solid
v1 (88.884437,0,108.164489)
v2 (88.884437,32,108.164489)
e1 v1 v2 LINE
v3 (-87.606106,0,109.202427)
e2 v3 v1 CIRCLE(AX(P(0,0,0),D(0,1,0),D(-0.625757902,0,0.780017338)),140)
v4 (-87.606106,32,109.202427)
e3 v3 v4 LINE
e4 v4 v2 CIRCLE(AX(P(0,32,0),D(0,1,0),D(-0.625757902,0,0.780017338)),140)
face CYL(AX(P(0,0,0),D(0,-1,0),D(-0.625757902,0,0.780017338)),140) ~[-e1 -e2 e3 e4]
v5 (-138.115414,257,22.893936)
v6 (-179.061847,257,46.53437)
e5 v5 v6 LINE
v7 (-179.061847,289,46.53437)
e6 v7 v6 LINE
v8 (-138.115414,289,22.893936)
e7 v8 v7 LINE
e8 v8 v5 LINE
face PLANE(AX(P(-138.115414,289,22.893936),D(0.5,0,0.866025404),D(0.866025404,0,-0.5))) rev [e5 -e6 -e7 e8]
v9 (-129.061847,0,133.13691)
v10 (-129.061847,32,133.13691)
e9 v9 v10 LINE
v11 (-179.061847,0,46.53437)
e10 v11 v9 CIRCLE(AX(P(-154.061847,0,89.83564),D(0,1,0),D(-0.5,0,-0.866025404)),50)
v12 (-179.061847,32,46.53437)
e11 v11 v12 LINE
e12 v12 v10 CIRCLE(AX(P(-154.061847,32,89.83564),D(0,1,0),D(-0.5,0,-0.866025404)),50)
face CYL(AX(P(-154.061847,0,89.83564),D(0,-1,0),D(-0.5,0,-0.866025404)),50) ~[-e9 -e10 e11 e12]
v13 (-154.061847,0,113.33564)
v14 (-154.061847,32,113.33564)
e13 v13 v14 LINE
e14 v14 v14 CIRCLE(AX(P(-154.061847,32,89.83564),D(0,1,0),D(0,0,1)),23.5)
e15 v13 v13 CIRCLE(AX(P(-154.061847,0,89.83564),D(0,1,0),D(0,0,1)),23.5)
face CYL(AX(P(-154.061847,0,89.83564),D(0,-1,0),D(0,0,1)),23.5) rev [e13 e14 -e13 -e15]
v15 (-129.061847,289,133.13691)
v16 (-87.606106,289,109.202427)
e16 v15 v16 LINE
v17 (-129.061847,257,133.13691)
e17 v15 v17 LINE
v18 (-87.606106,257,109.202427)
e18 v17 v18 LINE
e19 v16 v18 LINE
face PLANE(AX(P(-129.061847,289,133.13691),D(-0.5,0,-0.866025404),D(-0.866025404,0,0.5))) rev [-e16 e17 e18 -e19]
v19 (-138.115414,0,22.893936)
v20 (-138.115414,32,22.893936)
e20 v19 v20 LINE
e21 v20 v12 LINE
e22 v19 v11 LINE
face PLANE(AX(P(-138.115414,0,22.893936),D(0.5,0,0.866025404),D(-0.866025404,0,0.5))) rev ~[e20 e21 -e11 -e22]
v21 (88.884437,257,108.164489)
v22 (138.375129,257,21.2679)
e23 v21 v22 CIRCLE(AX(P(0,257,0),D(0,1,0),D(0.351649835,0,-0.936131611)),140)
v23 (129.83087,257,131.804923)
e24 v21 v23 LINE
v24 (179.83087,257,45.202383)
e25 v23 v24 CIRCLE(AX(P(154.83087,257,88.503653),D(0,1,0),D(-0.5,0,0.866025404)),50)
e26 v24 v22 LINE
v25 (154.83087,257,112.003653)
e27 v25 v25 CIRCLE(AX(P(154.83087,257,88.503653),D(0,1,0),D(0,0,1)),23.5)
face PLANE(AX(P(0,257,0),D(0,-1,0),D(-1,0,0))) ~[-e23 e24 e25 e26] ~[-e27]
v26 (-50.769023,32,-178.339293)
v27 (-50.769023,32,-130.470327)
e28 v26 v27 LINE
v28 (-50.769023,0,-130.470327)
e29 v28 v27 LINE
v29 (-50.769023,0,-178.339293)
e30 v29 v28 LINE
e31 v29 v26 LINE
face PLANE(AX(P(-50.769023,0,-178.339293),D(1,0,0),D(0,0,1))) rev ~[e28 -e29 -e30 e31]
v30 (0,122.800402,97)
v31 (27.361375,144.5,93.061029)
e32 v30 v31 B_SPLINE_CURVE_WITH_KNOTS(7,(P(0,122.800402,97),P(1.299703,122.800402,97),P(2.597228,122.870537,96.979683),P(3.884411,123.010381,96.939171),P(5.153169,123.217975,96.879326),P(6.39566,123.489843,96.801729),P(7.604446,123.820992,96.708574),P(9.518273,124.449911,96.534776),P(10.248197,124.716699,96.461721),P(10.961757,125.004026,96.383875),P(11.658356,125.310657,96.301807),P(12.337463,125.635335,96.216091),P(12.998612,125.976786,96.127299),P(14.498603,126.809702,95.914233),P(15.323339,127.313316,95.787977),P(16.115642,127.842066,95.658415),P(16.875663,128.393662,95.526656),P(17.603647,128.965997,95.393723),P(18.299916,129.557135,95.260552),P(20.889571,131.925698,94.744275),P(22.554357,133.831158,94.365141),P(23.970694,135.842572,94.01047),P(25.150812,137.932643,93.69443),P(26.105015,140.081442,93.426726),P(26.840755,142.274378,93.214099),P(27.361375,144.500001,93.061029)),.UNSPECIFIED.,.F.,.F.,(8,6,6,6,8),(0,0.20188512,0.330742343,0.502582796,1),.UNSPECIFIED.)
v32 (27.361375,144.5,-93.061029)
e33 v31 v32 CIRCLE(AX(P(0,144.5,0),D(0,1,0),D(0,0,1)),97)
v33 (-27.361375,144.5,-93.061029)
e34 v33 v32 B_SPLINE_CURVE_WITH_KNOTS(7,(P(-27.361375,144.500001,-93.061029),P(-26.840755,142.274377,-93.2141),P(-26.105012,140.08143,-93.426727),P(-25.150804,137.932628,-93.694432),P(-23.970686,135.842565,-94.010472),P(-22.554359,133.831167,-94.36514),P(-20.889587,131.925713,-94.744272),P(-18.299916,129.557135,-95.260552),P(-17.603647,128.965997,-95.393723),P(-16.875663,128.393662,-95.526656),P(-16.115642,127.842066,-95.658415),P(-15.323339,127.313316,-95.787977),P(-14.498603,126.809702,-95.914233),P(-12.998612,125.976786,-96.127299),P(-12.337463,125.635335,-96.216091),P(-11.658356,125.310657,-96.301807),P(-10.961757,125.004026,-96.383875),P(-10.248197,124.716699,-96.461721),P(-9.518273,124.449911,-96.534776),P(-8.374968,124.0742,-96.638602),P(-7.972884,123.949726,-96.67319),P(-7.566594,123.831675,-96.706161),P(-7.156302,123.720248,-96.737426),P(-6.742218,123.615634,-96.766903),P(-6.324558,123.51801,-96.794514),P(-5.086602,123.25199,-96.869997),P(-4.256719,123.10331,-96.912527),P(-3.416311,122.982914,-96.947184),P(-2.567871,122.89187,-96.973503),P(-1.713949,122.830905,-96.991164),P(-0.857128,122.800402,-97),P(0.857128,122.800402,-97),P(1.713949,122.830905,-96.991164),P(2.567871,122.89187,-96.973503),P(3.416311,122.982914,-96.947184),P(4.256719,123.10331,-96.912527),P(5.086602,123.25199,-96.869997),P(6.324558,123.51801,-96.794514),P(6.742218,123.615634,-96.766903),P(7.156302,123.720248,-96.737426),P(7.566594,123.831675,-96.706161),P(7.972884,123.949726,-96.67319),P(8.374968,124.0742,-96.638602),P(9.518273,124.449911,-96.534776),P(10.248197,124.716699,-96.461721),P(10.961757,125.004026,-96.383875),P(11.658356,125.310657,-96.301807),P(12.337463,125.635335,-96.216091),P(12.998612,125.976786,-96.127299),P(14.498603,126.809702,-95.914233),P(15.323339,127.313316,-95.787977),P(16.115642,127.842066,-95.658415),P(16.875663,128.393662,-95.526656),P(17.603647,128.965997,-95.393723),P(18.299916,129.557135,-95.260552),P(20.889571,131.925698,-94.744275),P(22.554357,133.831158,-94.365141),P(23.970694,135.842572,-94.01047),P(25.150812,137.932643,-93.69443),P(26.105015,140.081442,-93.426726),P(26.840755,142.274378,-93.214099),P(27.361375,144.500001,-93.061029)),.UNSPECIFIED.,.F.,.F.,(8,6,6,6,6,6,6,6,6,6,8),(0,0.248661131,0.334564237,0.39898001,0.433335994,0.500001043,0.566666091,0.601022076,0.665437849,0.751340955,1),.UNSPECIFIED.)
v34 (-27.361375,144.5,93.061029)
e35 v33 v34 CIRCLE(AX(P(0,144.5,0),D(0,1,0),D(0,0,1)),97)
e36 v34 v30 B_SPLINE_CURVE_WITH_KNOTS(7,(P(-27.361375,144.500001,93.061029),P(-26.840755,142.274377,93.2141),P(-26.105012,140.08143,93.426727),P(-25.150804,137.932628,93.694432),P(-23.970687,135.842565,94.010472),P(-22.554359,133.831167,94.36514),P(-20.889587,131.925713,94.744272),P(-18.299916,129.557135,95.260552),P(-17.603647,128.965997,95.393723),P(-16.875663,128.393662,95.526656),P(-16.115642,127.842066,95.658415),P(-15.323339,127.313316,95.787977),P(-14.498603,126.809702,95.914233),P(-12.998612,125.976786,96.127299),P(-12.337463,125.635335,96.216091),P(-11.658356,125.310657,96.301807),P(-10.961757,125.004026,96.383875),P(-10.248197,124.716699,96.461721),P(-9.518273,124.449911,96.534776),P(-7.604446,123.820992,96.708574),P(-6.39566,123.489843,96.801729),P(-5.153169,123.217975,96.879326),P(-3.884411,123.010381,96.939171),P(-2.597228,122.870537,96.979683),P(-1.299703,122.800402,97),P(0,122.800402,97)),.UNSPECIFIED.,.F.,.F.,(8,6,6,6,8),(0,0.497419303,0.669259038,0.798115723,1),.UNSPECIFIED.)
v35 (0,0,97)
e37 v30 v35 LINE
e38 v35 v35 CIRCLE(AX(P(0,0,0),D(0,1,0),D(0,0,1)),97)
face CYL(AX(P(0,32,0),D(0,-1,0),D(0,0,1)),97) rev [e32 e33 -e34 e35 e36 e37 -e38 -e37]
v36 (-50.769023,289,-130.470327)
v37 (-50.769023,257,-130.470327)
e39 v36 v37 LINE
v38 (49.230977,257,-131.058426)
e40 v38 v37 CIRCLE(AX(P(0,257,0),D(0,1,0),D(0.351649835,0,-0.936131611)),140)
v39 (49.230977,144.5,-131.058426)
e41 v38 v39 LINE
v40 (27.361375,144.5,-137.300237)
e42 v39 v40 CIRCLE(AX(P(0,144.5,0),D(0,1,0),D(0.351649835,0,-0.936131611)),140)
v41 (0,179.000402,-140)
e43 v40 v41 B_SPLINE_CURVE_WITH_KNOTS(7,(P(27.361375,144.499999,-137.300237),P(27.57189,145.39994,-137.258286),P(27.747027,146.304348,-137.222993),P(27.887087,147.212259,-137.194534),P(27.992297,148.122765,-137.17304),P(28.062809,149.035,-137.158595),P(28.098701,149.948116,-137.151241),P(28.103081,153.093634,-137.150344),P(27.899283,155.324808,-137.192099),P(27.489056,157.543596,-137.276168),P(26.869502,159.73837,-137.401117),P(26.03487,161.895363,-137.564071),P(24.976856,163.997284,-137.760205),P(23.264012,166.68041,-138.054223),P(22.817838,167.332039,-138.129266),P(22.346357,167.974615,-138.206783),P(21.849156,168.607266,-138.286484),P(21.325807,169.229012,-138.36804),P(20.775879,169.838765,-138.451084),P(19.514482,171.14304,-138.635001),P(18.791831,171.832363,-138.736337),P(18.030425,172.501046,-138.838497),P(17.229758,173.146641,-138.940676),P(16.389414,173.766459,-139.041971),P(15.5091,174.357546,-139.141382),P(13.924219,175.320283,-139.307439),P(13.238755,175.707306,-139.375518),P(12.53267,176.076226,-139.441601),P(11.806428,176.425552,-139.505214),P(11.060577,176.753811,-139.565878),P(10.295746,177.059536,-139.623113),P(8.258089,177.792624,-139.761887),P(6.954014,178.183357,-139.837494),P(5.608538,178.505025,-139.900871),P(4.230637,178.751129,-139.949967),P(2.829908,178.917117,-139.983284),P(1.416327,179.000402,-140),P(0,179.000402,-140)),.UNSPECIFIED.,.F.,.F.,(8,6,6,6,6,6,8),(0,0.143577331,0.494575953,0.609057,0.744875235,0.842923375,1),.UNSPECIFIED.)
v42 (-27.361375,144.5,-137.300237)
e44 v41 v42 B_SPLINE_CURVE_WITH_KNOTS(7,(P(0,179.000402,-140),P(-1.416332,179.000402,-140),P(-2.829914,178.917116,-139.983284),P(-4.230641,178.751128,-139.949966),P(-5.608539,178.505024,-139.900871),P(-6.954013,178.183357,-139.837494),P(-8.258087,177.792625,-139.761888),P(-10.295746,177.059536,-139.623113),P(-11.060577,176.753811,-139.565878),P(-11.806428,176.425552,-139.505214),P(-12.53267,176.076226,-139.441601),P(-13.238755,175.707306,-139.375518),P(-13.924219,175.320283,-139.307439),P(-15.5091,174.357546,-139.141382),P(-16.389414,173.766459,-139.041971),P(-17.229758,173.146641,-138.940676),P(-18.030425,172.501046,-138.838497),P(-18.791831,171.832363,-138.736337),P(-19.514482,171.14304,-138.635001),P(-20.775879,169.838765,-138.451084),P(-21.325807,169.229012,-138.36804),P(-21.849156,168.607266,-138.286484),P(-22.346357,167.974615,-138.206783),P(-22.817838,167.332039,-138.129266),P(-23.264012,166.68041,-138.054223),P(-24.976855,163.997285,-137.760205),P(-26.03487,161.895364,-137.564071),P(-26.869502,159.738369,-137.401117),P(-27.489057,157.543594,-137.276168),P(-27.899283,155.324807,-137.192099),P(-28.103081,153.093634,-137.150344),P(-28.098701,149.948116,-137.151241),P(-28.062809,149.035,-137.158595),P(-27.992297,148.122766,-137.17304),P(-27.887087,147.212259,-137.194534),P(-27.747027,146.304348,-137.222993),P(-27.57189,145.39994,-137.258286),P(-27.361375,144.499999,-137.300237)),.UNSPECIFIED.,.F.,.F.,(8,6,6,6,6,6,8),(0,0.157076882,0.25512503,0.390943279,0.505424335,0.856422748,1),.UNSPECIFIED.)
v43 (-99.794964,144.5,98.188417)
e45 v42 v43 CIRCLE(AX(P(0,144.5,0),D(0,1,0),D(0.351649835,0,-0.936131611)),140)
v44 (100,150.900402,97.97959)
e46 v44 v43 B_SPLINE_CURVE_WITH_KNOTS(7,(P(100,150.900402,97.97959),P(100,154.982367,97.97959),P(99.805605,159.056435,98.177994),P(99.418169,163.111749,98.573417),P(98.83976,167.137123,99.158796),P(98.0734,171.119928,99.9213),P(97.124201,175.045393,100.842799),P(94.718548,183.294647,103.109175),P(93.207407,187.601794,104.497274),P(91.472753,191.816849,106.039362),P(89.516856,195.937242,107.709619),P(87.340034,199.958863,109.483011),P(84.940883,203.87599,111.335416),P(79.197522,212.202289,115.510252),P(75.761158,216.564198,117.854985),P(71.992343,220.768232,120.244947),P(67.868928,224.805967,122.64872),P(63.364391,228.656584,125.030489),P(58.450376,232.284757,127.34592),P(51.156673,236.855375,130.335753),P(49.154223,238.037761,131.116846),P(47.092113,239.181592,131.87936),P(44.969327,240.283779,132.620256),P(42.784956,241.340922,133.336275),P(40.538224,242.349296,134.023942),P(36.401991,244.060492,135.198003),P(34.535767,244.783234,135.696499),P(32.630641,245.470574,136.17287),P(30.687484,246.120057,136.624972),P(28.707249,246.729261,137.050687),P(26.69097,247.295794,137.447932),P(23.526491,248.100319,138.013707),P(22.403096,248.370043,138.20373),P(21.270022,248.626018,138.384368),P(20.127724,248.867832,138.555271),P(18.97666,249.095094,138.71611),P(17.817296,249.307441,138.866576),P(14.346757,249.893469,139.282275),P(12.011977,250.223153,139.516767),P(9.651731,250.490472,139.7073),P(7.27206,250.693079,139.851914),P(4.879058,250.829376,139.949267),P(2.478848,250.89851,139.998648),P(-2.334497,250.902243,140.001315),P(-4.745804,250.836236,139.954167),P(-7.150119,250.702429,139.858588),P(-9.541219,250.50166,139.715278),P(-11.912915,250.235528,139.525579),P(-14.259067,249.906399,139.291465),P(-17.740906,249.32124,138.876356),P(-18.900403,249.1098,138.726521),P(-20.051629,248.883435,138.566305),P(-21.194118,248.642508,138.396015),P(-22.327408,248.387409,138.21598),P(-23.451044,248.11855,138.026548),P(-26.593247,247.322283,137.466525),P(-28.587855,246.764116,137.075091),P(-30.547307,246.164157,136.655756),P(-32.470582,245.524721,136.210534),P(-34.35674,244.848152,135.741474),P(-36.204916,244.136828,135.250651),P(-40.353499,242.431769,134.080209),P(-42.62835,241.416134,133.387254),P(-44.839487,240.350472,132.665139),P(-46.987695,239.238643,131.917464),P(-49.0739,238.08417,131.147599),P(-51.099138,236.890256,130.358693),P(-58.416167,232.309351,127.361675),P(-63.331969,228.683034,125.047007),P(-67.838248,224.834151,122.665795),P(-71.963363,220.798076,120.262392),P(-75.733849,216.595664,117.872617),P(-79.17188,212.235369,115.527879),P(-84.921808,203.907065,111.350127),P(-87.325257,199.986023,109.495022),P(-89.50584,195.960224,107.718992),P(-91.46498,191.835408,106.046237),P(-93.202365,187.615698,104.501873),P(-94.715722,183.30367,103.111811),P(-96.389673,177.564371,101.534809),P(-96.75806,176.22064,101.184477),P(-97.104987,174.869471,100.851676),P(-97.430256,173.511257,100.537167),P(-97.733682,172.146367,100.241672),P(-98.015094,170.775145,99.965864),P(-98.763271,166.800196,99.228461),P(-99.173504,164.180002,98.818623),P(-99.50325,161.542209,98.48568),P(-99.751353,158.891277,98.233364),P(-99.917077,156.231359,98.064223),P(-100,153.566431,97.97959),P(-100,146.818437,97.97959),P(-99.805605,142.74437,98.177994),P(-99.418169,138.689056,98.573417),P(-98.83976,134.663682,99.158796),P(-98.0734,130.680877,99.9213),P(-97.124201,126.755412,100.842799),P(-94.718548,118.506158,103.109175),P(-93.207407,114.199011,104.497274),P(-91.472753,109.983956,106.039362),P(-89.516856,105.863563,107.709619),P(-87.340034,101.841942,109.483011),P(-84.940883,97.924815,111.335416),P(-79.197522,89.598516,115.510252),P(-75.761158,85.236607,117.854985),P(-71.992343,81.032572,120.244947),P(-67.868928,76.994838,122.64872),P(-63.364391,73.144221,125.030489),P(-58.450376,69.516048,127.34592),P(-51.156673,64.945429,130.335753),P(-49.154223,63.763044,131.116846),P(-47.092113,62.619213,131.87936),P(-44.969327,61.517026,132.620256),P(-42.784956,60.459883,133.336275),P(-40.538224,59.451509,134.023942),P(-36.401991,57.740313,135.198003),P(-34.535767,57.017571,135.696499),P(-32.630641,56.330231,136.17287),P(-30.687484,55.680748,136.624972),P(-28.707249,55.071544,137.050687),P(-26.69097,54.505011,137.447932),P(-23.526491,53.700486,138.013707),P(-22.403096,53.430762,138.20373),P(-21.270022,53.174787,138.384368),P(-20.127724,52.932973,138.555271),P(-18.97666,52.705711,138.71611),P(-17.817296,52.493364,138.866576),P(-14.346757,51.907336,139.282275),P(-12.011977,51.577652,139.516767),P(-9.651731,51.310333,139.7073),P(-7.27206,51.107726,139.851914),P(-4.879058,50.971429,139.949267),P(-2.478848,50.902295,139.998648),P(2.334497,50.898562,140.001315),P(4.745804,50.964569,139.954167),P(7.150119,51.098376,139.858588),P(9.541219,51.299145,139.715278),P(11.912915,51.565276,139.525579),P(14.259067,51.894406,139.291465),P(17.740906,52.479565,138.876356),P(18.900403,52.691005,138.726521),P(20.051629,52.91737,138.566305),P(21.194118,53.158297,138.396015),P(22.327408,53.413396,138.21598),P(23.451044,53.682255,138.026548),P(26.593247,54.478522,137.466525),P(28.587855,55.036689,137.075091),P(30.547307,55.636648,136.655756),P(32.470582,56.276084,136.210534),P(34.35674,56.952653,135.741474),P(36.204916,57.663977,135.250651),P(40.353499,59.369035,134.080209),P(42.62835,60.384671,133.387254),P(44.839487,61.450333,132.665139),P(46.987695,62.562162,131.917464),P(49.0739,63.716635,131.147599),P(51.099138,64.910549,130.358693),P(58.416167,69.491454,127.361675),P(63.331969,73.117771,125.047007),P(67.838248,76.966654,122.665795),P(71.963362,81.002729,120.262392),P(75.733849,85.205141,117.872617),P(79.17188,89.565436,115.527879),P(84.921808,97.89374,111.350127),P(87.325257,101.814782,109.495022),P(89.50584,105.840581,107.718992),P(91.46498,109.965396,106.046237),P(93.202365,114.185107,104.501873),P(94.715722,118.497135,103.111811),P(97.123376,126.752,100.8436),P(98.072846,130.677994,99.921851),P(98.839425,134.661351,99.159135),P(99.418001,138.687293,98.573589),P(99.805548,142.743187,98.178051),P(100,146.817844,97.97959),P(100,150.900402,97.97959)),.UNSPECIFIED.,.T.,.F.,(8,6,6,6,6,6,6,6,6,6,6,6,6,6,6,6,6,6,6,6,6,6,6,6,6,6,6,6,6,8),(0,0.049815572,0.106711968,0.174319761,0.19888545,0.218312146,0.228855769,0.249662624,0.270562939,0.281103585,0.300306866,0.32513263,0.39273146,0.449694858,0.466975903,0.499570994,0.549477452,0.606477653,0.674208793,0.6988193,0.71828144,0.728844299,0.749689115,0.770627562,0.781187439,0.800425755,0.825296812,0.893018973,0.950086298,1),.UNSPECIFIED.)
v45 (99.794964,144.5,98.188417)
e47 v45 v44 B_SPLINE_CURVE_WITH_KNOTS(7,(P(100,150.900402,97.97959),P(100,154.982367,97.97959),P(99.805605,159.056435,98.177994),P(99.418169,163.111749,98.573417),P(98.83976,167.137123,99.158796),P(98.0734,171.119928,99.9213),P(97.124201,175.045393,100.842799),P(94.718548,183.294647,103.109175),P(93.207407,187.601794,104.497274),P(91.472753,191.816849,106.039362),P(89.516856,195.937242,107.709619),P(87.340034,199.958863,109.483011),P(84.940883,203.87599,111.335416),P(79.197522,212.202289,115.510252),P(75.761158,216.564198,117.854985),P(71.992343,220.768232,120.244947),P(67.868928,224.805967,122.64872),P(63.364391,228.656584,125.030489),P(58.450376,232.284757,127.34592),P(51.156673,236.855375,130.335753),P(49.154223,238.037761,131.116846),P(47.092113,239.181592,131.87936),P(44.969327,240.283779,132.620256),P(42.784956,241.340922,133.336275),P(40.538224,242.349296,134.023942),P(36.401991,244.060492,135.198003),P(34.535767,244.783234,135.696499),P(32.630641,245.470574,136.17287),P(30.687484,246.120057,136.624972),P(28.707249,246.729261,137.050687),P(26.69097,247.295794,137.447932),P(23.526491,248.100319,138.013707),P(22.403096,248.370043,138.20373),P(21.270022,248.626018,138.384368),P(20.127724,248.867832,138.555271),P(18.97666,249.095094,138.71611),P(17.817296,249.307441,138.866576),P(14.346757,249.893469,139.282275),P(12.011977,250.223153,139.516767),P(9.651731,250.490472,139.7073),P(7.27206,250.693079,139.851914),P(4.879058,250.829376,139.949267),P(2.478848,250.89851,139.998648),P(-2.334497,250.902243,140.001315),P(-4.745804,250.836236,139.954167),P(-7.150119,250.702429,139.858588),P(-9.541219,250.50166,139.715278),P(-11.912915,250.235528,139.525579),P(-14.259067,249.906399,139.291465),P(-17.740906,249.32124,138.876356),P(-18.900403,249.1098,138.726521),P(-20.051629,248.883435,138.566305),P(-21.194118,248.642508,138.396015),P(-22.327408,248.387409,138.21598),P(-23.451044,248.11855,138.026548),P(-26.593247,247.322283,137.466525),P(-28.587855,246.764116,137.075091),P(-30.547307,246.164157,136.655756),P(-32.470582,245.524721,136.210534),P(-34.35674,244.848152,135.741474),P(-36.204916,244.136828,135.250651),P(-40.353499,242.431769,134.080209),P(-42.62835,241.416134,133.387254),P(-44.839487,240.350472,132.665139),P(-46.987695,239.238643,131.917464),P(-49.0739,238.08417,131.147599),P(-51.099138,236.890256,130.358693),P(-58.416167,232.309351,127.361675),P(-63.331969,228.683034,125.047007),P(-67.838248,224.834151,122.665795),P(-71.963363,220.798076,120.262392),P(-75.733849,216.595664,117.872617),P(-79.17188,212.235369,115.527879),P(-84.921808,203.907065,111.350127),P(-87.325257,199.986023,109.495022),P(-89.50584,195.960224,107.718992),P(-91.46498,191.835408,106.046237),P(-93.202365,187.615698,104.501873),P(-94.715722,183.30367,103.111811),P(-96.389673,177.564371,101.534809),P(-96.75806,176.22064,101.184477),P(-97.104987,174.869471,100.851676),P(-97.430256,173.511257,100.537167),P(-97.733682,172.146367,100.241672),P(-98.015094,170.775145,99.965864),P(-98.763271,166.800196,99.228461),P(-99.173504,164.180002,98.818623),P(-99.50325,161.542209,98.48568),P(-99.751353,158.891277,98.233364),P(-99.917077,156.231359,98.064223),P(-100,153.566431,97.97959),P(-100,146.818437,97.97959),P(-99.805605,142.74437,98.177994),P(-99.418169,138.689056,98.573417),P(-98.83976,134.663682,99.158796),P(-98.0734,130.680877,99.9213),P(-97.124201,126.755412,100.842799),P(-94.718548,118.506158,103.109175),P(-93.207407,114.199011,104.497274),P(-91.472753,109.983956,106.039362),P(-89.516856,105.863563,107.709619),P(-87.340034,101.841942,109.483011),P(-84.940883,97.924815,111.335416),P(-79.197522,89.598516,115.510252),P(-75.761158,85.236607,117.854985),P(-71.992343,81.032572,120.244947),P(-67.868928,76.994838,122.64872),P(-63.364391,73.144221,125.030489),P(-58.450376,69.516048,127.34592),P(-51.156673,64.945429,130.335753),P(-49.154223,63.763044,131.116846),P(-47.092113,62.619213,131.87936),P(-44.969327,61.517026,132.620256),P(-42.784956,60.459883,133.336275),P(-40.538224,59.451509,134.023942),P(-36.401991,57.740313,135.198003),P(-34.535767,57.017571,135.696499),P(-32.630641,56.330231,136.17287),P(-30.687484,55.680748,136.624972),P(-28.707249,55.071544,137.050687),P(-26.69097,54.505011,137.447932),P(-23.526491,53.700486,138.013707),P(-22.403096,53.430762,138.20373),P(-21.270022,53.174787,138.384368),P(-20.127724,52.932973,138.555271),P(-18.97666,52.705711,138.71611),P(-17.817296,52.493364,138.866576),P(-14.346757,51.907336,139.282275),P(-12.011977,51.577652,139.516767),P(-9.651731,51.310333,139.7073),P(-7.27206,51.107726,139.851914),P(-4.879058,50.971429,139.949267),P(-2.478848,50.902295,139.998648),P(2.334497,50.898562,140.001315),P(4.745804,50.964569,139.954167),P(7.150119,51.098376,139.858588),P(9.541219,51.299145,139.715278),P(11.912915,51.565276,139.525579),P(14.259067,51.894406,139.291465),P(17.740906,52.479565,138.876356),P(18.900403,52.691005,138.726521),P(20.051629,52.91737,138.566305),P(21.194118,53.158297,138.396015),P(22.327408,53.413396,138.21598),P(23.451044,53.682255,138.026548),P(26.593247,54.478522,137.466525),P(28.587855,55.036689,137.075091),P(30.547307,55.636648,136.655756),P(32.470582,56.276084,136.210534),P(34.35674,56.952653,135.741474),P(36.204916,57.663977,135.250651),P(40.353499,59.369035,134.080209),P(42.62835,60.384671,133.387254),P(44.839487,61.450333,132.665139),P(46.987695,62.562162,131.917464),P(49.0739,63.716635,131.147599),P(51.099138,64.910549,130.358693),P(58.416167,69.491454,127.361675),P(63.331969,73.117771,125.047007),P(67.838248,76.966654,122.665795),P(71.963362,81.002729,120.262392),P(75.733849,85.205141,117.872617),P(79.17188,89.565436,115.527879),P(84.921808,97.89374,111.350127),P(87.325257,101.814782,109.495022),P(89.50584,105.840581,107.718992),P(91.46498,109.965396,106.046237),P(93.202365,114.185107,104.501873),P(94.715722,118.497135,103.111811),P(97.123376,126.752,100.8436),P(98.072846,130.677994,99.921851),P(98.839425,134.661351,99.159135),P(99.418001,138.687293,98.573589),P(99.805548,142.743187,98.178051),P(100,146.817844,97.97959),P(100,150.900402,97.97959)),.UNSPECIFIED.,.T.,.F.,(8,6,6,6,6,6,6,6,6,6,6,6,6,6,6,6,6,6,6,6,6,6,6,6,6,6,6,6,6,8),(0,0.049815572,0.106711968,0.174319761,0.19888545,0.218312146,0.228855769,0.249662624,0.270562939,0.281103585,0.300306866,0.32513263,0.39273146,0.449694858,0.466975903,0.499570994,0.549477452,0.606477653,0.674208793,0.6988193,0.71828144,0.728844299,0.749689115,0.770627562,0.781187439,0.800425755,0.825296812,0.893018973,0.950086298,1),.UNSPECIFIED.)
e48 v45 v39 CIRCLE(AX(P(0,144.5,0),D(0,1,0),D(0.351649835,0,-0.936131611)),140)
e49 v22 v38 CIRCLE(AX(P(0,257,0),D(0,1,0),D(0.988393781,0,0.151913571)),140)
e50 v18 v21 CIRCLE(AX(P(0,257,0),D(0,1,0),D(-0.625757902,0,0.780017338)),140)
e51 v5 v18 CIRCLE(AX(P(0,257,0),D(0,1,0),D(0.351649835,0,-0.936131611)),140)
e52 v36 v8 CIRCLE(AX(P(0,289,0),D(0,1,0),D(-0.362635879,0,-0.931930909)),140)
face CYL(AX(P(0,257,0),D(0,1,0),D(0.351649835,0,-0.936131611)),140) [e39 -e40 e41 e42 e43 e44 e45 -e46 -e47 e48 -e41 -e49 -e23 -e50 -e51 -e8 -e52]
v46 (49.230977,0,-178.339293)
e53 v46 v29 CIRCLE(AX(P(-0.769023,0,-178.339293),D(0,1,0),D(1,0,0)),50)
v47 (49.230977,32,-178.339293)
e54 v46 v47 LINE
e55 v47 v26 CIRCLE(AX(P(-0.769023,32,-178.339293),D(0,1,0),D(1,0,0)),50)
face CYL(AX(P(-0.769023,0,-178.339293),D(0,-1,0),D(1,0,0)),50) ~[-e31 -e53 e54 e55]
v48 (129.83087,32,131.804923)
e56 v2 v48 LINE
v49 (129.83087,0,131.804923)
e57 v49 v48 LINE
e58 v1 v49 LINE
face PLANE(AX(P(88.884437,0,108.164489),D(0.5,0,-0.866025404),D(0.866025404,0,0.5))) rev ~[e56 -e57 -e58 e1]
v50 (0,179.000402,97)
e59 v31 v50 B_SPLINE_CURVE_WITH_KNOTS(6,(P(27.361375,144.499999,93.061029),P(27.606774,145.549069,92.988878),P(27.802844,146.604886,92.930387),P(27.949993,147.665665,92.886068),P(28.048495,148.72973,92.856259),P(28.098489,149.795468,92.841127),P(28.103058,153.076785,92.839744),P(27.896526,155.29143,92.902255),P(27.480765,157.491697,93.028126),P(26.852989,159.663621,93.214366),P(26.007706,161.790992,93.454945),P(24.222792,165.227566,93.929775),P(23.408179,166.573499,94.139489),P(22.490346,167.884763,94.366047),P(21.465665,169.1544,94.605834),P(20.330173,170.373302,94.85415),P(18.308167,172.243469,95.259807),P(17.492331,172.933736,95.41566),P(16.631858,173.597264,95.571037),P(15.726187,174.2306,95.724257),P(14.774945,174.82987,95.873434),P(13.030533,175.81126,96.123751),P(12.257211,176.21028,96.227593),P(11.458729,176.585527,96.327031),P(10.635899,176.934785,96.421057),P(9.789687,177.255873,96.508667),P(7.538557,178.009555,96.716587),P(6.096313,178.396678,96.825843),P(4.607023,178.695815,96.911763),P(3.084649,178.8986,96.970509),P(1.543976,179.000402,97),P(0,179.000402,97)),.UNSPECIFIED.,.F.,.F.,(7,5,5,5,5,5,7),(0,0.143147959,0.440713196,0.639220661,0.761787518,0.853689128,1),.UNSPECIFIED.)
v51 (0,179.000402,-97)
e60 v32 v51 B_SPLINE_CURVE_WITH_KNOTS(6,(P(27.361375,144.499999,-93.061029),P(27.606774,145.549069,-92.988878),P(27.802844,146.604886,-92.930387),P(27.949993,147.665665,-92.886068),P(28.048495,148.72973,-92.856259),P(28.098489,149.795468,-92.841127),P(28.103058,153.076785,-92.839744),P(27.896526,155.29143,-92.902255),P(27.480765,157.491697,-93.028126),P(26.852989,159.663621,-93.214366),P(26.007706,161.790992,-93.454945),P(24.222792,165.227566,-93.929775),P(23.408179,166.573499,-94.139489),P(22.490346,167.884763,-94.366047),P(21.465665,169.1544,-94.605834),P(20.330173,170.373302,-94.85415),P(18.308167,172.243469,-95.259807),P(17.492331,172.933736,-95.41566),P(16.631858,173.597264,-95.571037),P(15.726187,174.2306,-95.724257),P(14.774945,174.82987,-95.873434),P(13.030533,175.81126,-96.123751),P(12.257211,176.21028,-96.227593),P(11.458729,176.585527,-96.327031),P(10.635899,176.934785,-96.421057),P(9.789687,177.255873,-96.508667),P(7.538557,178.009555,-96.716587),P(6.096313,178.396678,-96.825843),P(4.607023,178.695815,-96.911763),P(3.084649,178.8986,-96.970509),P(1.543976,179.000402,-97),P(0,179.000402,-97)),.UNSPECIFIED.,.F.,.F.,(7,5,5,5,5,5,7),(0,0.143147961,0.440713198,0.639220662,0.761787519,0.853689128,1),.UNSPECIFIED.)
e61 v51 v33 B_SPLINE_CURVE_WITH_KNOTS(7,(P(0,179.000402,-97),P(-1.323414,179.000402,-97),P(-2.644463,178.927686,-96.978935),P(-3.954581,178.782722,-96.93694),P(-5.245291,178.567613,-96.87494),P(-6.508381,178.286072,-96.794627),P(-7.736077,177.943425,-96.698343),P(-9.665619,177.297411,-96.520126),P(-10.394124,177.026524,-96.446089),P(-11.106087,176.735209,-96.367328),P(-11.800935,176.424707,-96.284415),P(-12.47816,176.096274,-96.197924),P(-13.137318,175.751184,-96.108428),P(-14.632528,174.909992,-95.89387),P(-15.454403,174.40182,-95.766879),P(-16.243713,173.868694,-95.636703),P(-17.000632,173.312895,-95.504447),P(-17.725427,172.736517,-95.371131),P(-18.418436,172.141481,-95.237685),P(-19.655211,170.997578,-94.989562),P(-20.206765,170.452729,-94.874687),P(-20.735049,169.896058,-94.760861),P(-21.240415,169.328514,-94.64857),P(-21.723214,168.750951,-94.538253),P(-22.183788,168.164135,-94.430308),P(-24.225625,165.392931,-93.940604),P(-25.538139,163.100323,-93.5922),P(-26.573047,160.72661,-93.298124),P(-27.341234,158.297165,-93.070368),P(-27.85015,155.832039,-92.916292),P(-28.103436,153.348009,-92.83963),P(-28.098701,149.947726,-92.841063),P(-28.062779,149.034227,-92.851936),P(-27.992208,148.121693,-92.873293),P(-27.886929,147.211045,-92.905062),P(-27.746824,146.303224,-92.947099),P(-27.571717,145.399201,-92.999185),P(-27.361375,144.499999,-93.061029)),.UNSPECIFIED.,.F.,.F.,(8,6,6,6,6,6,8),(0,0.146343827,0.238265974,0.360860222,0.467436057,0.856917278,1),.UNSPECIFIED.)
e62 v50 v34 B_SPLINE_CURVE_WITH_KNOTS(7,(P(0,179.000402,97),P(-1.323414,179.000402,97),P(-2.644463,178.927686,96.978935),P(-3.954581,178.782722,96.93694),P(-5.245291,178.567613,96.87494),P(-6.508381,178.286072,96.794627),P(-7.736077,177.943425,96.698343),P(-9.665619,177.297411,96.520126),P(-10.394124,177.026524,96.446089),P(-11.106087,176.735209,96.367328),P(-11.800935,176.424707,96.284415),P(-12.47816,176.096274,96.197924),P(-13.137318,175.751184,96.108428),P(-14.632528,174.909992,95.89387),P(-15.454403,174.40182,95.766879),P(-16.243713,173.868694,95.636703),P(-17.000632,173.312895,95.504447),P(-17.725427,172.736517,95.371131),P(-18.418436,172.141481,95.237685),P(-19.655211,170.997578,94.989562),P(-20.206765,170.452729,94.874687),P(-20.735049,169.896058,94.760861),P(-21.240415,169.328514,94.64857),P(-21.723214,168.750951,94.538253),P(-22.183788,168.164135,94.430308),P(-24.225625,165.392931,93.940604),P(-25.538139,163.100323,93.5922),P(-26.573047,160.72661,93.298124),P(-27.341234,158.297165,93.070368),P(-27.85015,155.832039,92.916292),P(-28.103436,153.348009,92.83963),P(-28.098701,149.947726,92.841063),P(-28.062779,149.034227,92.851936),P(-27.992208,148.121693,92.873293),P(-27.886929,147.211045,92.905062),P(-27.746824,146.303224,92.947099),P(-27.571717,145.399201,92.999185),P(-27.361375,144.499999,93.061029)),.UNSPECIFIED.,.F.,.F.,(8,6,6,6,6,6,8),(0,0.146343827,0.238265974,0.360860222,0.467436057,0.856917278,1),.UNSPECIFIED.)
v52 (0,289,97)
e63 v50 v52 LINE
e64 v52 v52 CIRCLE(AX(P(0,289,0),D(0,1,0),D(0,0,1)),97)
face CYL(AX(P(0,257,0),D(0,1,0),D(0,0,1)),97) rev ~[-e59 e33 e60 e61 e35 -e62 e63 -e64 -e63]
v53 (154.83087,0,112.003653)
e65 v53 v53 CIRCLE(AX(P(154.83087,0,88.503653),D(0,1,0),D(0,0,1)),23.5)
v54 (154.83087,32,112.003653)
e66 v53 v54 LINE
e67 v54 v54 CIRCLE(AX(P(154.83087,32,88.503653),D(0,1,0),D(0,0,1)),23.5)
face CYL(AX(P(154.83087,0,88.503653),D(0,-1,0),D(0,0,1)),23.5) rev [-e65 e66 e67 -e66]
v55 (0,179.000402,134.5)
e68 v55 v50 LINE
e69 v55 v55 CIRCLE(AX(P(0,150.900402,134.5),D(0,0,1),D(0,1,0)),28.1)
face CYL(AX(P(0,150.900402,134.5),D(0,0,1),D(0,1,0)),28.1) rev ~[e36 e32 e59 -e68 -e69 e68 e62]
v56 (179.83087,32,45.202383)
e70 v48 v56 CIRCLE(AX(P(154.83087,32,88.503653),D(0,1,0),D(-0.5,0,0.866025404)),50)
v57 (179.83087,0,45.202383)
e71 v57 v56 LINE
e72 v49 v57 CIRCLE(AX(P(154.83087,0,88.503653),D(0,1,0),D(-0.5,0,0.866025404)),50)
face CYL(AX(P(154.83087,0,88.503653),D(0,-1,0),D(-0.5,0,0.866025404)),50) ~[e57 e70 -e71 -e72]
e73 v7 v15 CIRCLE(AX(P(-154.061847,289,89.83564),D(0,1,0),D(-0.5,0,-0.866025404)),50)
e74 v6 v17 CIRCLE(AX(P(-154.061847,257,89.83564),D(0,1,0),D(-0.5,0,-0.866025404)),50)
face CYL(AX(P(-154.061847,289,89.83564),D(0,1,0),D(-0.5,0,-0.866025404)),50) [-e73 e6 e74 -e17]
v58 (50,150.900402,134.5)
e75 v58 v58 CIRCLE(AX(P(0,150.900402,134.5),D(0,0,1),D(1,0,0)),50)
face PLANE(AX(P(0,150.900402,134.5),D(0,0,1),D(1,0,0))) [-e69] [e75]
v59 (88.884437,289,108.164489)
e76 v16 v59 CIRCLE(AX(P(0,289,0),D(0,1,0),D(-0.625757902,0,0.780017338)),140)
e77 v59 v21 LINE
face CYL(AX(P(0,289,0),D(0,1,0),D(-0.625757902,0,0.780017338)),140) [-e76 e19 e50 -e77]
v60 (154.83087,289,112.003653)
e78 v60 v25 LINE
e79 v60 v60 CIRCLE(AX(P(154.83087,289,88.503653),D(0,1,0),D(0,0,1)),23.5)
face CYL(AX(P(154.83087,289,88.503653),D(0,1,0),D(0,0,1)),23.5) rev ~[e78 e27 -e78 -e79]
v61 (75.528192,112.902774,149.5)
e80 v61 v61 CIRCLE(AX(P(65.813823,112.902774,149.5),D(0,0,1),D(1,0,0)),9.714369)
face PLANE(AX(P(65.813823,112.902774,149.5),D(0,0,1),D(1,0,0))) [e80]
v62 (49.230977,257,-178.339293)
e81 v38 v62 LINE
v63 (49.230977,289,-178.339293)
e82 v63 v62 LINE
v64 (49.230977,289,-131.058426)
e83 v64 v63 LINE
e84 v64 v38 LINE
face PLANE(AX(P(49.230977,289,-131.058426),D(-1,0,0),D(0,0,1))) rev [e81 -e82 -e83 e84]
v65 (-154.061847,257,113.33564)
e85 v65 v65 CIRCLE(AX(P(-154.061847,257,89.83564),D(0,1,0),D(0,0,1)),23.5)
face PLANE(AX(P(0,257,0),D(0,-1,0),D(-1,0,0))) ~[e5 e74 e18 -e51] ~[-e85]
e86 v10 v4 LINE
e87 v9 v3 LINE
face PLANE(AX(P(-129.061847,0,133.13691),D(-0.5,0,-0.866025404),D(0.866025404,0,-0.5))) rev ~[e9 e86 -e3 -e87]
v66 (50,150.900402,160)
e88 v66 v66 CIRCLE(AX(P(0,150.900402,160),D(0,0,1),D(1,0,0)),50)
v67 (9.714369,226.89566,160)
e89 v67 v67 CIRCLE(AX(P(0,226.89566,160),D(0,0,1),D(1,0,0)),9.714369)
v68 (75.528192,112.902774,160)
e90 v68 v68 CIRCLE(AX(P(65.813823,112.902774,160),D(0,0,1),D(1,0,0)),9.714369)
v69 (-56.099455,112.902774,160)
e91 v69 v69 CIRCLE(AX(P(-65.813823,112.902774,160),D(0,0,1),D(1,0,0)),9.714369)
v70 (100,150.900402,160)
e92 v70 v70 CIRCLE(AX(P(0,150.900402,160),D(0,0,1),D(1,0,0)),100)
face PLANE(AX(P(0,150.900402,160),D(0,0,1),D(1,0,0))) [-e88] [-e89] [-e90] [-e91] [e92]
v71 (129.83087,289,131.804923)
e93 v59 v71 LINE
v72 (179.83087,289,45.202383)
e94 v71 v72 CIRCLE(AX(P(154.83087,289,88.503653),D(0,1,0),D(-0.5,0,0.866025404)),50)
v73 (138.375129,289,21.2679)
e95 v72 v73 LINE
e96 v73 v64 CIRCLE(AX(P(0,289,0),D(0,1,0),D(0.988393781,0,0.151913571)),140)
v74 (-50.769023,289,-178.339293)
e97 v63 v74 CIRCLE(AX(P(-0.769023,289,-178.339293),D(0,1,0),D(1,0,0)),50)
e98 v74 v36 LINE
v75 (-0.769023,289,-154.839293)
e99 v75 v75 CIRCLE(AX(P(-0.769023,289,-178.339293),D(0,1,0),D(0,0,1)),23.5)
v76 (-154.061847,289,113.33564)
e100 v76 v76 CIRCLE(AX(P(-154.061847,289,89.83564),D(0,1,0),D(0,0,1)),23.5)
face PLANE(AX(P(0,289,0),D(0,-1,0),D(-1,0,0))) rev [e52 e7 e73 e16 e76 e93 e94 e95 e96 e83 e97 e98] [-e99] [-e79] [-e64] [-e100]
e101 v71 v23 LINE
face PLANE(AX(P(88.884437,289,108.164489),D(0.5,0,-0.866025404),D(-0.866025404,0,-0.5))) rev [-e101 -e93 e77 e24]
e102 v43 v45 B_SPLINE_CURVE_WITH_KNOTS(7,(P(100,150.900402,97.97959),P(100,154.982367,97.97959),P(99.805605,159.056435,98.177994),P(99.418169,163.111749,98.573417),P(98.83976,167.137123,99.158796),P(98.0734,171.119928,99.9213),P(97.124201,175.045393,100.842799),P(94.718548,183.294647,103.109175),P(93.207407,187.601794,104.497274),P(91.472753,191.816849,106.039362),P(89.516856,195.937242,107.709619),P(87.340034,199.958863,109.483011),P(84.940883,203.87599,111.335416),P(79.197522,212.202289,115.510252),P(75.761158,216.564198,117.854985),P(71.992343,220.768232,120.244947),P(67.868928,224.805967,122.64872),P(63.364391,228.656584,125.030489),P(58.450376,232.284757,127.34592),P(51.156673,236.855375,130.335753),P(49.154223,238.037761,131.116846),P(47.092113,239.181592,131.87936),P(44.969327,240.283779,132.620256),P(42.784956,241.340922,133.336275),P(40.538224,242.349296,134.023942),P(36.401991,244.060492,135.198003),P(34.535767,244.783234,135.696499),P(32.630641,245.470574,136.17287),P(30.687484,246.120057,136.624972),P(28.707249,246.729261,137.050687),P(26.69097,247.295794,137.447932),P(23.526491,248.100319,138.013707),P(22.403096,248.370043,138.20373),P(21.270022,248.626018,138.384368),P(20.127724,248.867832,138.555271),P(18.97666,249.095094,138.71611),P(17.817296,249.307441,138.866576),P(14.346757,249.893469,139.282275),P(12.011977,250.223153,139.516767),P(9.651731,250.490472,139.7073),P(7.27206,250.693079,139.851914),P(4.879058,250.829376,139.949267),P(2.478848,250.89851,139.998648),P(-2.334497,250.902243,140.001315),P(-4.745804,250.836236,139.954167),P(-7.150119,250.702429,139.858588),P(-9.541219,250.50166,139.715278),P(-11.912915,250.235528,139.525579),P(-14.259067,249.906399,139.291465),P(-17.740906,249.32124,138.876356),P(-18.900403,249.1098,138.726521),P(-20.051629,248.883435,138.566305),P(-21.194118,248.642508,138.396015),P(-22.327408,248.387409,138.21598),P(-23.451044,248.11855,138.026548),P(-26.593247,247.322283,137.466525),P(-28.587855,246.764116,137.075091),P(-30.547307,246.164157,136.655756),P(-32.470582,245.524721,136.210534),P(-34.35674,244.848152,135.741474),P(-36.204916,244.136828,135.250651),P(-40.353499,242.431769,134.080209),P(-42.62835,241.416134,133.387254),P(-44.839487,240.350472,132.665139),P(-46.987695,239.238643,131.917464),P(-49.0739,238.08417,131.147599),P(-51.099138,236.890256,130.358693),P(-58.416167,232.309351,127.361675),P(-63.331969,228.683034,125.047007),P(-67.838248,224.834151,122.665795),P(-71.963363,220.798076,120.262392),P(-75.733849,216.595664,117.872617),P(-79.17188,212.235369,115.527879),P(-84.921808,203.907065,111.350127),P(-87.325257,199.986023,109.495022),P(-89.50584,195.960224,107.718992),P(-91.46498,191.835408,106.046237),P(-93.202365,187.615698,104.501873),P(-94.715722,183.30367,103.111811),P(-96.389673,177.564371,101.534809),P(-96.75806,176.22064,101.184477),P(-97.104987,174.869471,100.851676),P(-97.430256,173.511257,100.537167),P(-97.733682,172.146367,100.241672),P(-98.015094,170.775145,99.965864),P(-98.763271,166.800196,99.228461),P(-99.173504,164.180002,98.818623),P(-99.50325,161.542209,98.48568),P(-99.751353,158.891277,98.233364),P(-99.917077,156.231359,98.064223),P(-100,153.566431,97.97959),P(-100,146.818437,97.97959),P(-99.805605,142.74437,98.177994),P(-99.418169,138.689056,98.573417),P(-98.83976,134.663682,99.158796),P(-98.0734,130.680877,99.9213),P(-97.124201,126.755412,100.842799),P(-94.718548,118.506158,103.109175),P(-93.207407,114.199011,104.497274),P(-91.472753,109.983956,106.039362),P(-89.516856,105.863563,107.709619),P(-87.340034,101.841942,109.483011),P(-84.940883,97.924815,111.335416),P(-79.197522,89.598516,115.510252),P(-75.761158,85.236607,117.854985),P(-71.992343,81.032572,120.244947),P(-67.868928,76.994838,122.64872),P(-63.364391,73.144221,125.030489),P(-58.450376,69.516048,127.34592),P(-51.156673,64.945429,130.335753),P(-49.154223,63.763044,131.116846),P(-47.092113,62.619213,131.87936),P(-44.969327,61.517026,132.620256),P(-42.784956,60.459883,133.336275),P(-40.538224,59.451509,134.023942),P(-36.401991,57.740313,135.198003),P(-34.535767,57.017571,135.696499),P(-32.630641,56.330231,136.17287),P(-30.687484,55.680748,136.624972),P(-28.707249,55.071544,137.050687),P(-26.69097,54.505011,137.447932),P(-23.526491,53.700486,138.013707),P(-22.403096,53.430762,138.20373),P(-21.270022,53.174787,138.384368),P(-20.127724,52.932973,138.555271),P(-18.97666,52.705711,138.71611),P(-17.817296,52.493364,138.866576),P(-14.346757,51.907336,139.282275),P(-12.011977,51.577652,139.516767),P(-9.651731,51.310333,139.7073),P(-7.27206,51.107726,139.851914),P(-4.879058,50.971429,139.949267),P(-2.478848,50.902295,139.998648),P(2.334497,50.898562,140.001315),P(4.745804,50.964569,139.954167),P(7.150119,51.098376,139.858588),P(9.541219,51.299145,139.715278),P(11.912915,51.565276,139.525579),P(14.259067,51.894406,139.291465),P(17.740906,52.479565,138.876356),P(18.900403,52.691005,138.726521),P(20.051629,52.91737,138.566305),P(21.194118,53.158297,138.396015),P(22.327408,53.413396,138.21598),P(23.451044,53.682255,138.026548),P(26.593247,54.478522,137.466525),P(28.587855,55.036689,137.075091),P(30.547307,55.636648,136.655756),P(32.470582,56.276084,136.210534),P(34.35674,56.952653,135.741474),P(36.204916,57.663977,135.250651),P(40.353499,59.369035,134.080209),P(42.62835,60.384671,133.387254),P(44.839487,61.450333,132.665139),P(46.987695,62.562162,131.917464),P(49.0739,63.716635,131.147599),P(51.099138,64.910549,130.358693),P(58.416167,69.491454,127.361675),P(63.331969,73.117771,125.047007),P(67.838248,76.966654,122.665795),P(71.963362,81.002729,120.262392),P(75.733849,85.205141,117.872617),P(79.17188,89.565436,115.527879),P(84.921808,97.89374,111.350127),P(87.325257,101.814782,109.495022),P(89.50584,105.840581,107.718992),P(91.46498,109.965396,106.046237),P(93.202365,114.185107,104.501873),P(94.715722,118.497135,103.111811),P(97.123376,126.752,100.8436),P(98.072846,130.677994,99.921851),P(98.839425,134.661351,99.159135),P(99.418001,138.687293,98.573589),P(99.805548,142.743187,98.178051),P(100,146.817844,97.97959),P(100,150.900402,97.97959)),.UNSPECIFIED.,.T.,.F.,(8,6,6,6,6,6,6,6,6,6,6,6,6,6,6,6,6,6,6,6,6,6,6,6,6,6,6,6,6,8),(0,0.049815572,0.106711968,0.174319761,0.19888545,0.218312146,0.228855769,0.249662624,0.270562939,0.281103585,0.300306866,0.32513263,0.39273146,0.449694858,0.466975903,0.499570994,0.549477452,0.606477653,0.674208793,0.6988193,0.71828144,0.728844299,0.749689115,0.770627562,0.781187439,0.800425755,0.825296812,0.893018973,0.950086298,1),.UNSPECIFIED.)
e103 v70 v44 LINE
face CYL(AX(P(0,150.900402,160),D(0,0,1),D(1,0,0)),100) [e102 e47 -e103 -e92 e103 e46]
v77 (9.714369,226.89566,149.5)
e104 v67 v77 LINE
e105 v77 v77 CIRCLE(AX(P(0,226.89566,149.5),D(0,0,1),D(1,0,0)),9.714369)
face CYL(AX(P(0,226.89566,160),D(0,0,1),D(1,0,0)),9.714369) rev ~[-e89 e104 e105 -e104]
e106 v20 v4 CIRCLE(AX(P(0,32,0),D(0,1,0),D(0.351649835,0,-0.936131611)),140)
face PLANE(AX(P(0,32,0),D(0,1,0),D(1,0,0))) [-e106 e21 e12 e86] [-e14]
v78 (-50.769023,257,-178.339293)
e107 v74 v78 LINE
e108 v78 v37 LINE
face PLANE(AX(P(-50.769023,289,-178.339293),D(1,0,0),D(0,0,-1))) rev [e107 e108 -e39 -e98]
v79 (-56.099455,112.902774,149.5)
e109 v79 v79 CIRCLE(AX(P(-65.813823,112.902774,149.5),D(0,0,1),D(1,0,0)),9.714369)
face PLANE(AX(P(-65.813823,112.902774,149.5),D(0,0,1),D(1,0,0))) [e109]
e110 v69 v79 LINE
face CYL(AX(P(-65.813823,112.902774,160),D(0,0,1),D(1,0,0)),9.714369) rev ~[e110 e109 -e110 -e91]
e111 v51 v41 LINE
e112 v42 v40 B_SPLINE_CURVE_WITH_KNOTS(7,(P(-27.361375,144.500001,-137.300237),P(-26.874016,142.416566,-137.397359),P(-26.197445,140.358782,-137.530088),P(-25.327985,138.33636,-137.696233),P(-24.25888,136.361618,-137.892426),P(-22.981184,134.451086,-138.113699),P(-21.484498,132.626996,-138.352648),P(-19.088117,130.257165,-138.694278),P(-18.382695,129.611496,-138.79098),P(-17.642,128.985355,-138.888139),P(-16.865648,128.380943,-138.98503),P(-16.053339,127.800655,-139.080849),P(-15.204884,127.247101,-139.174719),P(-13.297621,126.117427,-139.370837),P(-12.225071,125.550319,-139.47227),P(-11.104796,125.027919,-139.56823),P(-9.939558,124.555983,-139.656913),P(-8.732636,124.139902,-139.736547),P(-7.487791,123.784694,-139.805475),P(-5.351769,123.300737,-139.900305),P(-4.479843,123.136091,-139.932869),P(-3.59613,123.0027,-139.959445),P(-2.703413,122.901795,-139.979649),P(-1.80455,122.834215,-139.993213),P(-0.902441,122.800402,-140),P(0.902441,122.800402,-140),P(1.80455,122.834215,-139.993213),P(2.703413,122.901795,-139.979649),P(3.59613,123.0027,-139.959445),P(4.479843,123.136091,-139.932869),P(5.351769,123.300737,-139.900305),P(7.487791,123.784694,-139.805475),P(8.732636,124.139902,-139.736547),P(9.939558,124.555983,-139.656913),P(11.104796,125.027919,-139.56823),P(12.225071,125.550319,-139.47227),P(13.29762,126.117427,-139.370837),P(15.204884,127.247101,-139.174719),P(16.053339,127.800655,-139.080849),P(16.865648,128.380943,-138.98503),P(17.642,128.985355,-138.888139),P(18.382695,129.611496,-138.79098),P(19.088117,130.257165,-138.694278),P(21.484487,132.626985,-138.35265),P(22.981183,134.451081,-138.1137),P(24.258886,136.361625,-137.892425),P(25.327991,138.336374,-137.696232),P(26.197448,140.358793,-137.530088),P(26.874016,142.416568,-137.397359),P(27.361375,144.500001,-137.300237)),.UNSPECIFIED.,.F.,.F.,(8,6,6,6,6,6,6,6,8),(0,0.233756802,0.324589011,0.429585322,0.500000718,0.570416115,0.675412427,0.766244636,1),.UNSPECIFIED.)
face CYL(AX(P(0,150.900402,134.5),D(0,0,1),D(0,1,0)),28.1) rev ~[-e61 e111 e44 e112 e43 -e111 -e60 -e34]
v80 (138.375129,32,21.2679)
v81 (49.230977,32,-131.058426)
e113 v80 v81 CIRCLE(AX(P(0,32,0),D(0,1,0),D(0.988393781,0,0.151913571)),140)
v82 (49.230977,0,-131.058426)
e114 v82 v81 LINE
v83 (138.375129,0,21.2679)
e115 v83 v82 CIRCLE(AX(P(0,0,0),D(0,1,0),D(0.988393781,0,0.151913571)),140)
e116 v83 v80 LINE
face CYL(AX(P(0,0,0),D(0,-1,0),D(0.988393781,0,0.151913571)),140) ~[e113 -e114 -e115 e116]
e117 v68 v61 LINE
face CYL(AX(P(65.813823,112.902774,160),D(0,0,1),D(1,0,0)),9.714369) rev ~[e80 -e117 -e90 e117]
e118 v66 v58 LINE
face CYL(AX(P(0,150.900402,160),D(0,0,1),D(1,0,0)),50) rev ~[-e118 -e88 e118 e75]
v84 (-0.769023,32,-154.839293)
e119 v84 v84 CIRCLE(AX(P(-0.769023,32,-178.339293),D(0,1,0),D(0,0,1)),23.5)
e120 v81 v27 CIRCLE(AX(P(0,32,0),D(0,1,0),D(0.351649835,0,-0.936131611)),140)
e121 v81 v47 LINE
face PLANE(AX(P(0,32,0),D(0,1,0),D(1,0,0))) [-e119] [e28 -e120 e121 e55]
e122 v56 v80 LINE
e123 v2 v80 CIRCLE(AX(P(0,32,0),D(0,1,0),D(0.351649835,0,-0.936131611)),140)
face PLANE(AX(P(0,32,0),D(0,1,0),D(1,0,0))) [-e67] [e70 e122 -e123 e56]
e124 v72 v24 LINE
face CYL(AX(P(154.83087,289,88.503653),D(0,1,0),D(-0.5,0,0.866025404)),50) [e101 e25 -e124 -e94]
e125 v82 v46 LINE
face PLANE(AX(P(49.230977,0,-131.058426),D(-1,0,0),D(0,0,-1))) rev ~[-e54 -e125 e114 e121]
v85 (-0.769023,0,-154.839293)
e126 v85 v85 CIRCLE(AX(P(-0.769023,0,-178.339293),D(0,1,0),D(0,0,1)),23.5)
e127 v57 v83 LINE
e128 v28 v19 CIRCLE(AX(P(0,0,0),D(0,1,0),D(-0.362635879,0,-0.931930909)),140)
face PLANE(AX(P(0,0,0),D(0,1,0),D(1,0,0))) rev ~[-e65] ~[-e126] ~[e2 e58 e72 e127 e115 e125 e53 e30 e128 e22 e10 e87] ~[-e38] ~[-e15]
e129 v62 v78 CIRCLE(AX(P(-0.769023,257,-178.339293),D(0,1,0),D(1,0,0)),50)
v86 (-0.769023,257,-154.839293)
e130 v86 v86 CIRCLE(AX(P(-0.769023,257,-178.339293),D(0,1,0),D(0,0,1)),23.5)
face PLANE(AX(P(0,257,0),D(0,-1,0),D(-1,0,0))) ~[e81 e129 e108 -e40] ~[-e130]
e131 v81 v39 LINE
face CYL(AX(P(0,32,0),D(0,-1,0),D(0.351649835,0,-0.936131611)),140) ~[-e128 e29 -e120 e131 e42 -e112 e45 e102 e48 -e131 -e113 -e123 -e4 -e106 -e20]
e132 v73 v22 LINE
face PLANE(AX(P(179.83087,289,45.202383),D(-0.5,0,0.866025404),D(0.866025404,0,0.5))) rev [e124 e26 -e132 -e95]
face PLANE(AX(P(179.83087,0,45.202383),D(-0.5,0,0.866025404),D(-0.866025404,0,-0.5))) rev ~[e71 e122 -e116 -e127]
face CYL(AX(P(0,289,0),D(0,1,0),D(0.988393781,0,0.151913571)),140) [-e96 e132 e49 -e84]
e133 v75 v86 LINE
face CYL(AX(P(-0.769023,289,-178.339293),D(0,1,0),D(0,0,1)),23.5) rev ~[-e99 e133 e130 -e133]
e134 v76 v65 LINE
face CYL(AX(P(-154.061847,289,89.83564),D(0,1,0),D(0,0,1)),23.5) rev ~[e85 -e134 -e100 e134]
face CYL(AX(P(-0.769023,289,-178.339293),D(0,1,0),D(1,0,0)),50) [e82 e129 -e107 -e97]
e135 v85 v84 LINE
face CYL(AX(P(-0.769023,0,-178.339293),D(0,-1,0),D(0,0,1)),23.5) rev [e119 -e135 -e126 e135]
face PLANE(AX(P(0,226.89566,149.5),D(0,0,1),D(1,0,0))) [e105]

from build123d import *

# Parameters (mm, degrees)
SKETCH2_R                 = 23.5
SKETCH2_R_2               = 97
BOSS_EXTRUDE5_DEPTH       = 32
SKETCH3_R                 = 140
SKETCH3_R_2               = 97
BOSS_EXTRUDE8_DEPTH       = 112.5
BOSS_EXTRUDE10_REACH      = 527.627
BOSS_EXTRUDE10_END_RADIUS = 140
SKETCH4_R                 = 100
SKETCH5_R                 = 50
CUT_EXTRUDE1_DEPTH        = 25.5
SKETCH7_R                 = 28.1
CUT_EXTRUDE2_DEPTH        = 328.5
SKETCH9_R                 = 9.714368659
CUT_EXTRUDE3_DEPTH        = 10.5


with BuildPart() as part:
    # Sketch2 → Boss-Extrude5 (new body)
    with BuildSketch(Plane(origin=(0, 0, 0), x_dir=(1, 0, 0), z_dir=(0, 1, 0))):
        with BuildLine():
            ThreePointArc((49.230976904, 178.339293487), (-0.769023096, 228.339293487), (-50.769023096, 178.339293487))
            Line((-50.769023096, 178.339293487), (-50.769023096, 130.470327254))
            ThreePointArc((-50.769023096, 130.470327254), (-121.653121624, 69.285770538), (-138.115414376, -22.893936133))
            Line((-138.115414376, -22.893936133), (-179.061847104, -46.534370091))
            ThreePointArc((-179.061847104, -46.534370091), (-197.363117294, -114.835640281), (-129.061847104, -133.13691047))
            Line((-129.061847104, -133.13691047), (-87.606106294, -109.202427354))
            ThreePointArc((-87.606106294, -109.202427354), (0.823323405, -139.997579045), (88.884437472, -108.164489437))
            Line((88.884437472, -108.164489437), (129.8308702, -131.804923395))
            ThreePointArc((129.8308702, -131.804923395), (198.13214039, -113.503653206), (179.8308702, -45.202383017))
            Line((179.8308702, -45.202383017), (138.37512939, -21.267899901))
            ThreePointArc((138.37512939, -21.267899901), (120.829798219, 70.711808507), (49.230976904, 131.058425571))
            Line((49.230976904, 131.058425571), (49.230976904, 178.339293487))
        make_face()
        with Locations(Location((-0.769023096, 178.339293487, 0), (0, 0, 270))):
            Circle(SKETCH2_R, mode=Mode.SUBTRACT)
        with Locations(Location((0, 0, 0), (0, 0, 270))):
            Circle(SKETCH2_R_2, mode=Mode.SUBTRACT)
        with Locations(Location((-154.061847104, -89.835640281, 0), (0, 0, 270))):
            Circle(SKETCH2_R, mode=Mode.SUBTRACT)
        with Locations(Location((154.8308702, -88.503653206, 0), (0, 0, 270))):
            Circle(SKETCH2_R, mode=Mode.SUBTRACT)
    extrude(amount=BOSS_EXTRUDE5_DEPTH)

    # Sketch3 → Boss-Extrude8 (add)
    with BuildSketch(Plane(origin=(0, 32, 0), x_dir=(1, 0, 0), z_dir=(0, 1, 0))):
        with Locations(Location((0, 0, 0), (0, 0, 69.411740358))):
            Circle(SKETCH3_R)
        with Locations(Location((0, 0, 0), (0, 0, 270))):
            Circle(SKETCH3_R_2, mode=Mode.SUBTRACT)
    extrude(amount=BOSS_EXTRUDE8_DEPTH)

    # Mirror1: part across plane


with BuildPart() as part_1:
    add(part.part)
    add(part.part.mirror(Plane.ZX.offset(144.5)))

    # Boss-Extrude10: up to this cylinder (the profile starts outside it)
    boss_extrude10_end = Plane(origin=(0, 150.900402, 0), z_dir=(0, -1, 0)) * Cylinder(BOSS_EXTRUDE10_END_RADIUS, 1336.254, mode=Mode.PRIVATE)
    # Sketch4 → Boss-Extrude10 (add, up to the surface)
    with BuildSketch(Plane.XY.offset(160), mode=Mode.PRIVATE) as boss_extrude10_sk1:
        with Locations((0, 150.900402454)):
            Circle(SKETCH4_R)
    boss_extrude10_tool1 = extrude(boss_extrude10_sk1.sketch, amount=-BOSS_EXTRUDE10_REACH, mode=Mode.PRIVATE) - boss_extrude10_end
    add(boss_extrude10_tool1.solids().sort_by_distance((0, 150.900402, 160))[0])

    # Sketch5 → Cut-Extrude1 (cut)
    with BuildSketch(Plane.XY.offset(160)):
        with Locations((0, 150.900402454)):
            Circle(SKETCH5_R)
    extrude(amount=-CUT_EXTRUDE1_DEPTH, mode=Mode.SUBTRACT)

    # Sketch7 → Cut-Extrude2 (cut)
    with BuildSketch(Plane.XY.offset(134.5)):
        with Locations(Location((0, 150.900402454, 0), (0, 0, 90))):
            Circle(SKETCH7_R)
    extrude(amount=-CUT_EXTRUDE2_DEPTH, mode=Mode.SUBTRACT)

    # Sketch9 → Cut-Extrude3 (cut)
    with BuildSketch(Plane.XY.offset(160)):
        with Locations((0, 226.895659714)):
            Circle(SKETCH9_R)
        with Locations((65.813823354, 112.902773824)):
            Circle(SKETCH9_R)
        with Locations((-65.813823354, 112.902773824)):
            Circle(SKETCH9_R)
    extrude(amount=-CUT_EXTRUDE3_DEPTH, mode=Mode.SUBTRACT)


solid = part_1.part
